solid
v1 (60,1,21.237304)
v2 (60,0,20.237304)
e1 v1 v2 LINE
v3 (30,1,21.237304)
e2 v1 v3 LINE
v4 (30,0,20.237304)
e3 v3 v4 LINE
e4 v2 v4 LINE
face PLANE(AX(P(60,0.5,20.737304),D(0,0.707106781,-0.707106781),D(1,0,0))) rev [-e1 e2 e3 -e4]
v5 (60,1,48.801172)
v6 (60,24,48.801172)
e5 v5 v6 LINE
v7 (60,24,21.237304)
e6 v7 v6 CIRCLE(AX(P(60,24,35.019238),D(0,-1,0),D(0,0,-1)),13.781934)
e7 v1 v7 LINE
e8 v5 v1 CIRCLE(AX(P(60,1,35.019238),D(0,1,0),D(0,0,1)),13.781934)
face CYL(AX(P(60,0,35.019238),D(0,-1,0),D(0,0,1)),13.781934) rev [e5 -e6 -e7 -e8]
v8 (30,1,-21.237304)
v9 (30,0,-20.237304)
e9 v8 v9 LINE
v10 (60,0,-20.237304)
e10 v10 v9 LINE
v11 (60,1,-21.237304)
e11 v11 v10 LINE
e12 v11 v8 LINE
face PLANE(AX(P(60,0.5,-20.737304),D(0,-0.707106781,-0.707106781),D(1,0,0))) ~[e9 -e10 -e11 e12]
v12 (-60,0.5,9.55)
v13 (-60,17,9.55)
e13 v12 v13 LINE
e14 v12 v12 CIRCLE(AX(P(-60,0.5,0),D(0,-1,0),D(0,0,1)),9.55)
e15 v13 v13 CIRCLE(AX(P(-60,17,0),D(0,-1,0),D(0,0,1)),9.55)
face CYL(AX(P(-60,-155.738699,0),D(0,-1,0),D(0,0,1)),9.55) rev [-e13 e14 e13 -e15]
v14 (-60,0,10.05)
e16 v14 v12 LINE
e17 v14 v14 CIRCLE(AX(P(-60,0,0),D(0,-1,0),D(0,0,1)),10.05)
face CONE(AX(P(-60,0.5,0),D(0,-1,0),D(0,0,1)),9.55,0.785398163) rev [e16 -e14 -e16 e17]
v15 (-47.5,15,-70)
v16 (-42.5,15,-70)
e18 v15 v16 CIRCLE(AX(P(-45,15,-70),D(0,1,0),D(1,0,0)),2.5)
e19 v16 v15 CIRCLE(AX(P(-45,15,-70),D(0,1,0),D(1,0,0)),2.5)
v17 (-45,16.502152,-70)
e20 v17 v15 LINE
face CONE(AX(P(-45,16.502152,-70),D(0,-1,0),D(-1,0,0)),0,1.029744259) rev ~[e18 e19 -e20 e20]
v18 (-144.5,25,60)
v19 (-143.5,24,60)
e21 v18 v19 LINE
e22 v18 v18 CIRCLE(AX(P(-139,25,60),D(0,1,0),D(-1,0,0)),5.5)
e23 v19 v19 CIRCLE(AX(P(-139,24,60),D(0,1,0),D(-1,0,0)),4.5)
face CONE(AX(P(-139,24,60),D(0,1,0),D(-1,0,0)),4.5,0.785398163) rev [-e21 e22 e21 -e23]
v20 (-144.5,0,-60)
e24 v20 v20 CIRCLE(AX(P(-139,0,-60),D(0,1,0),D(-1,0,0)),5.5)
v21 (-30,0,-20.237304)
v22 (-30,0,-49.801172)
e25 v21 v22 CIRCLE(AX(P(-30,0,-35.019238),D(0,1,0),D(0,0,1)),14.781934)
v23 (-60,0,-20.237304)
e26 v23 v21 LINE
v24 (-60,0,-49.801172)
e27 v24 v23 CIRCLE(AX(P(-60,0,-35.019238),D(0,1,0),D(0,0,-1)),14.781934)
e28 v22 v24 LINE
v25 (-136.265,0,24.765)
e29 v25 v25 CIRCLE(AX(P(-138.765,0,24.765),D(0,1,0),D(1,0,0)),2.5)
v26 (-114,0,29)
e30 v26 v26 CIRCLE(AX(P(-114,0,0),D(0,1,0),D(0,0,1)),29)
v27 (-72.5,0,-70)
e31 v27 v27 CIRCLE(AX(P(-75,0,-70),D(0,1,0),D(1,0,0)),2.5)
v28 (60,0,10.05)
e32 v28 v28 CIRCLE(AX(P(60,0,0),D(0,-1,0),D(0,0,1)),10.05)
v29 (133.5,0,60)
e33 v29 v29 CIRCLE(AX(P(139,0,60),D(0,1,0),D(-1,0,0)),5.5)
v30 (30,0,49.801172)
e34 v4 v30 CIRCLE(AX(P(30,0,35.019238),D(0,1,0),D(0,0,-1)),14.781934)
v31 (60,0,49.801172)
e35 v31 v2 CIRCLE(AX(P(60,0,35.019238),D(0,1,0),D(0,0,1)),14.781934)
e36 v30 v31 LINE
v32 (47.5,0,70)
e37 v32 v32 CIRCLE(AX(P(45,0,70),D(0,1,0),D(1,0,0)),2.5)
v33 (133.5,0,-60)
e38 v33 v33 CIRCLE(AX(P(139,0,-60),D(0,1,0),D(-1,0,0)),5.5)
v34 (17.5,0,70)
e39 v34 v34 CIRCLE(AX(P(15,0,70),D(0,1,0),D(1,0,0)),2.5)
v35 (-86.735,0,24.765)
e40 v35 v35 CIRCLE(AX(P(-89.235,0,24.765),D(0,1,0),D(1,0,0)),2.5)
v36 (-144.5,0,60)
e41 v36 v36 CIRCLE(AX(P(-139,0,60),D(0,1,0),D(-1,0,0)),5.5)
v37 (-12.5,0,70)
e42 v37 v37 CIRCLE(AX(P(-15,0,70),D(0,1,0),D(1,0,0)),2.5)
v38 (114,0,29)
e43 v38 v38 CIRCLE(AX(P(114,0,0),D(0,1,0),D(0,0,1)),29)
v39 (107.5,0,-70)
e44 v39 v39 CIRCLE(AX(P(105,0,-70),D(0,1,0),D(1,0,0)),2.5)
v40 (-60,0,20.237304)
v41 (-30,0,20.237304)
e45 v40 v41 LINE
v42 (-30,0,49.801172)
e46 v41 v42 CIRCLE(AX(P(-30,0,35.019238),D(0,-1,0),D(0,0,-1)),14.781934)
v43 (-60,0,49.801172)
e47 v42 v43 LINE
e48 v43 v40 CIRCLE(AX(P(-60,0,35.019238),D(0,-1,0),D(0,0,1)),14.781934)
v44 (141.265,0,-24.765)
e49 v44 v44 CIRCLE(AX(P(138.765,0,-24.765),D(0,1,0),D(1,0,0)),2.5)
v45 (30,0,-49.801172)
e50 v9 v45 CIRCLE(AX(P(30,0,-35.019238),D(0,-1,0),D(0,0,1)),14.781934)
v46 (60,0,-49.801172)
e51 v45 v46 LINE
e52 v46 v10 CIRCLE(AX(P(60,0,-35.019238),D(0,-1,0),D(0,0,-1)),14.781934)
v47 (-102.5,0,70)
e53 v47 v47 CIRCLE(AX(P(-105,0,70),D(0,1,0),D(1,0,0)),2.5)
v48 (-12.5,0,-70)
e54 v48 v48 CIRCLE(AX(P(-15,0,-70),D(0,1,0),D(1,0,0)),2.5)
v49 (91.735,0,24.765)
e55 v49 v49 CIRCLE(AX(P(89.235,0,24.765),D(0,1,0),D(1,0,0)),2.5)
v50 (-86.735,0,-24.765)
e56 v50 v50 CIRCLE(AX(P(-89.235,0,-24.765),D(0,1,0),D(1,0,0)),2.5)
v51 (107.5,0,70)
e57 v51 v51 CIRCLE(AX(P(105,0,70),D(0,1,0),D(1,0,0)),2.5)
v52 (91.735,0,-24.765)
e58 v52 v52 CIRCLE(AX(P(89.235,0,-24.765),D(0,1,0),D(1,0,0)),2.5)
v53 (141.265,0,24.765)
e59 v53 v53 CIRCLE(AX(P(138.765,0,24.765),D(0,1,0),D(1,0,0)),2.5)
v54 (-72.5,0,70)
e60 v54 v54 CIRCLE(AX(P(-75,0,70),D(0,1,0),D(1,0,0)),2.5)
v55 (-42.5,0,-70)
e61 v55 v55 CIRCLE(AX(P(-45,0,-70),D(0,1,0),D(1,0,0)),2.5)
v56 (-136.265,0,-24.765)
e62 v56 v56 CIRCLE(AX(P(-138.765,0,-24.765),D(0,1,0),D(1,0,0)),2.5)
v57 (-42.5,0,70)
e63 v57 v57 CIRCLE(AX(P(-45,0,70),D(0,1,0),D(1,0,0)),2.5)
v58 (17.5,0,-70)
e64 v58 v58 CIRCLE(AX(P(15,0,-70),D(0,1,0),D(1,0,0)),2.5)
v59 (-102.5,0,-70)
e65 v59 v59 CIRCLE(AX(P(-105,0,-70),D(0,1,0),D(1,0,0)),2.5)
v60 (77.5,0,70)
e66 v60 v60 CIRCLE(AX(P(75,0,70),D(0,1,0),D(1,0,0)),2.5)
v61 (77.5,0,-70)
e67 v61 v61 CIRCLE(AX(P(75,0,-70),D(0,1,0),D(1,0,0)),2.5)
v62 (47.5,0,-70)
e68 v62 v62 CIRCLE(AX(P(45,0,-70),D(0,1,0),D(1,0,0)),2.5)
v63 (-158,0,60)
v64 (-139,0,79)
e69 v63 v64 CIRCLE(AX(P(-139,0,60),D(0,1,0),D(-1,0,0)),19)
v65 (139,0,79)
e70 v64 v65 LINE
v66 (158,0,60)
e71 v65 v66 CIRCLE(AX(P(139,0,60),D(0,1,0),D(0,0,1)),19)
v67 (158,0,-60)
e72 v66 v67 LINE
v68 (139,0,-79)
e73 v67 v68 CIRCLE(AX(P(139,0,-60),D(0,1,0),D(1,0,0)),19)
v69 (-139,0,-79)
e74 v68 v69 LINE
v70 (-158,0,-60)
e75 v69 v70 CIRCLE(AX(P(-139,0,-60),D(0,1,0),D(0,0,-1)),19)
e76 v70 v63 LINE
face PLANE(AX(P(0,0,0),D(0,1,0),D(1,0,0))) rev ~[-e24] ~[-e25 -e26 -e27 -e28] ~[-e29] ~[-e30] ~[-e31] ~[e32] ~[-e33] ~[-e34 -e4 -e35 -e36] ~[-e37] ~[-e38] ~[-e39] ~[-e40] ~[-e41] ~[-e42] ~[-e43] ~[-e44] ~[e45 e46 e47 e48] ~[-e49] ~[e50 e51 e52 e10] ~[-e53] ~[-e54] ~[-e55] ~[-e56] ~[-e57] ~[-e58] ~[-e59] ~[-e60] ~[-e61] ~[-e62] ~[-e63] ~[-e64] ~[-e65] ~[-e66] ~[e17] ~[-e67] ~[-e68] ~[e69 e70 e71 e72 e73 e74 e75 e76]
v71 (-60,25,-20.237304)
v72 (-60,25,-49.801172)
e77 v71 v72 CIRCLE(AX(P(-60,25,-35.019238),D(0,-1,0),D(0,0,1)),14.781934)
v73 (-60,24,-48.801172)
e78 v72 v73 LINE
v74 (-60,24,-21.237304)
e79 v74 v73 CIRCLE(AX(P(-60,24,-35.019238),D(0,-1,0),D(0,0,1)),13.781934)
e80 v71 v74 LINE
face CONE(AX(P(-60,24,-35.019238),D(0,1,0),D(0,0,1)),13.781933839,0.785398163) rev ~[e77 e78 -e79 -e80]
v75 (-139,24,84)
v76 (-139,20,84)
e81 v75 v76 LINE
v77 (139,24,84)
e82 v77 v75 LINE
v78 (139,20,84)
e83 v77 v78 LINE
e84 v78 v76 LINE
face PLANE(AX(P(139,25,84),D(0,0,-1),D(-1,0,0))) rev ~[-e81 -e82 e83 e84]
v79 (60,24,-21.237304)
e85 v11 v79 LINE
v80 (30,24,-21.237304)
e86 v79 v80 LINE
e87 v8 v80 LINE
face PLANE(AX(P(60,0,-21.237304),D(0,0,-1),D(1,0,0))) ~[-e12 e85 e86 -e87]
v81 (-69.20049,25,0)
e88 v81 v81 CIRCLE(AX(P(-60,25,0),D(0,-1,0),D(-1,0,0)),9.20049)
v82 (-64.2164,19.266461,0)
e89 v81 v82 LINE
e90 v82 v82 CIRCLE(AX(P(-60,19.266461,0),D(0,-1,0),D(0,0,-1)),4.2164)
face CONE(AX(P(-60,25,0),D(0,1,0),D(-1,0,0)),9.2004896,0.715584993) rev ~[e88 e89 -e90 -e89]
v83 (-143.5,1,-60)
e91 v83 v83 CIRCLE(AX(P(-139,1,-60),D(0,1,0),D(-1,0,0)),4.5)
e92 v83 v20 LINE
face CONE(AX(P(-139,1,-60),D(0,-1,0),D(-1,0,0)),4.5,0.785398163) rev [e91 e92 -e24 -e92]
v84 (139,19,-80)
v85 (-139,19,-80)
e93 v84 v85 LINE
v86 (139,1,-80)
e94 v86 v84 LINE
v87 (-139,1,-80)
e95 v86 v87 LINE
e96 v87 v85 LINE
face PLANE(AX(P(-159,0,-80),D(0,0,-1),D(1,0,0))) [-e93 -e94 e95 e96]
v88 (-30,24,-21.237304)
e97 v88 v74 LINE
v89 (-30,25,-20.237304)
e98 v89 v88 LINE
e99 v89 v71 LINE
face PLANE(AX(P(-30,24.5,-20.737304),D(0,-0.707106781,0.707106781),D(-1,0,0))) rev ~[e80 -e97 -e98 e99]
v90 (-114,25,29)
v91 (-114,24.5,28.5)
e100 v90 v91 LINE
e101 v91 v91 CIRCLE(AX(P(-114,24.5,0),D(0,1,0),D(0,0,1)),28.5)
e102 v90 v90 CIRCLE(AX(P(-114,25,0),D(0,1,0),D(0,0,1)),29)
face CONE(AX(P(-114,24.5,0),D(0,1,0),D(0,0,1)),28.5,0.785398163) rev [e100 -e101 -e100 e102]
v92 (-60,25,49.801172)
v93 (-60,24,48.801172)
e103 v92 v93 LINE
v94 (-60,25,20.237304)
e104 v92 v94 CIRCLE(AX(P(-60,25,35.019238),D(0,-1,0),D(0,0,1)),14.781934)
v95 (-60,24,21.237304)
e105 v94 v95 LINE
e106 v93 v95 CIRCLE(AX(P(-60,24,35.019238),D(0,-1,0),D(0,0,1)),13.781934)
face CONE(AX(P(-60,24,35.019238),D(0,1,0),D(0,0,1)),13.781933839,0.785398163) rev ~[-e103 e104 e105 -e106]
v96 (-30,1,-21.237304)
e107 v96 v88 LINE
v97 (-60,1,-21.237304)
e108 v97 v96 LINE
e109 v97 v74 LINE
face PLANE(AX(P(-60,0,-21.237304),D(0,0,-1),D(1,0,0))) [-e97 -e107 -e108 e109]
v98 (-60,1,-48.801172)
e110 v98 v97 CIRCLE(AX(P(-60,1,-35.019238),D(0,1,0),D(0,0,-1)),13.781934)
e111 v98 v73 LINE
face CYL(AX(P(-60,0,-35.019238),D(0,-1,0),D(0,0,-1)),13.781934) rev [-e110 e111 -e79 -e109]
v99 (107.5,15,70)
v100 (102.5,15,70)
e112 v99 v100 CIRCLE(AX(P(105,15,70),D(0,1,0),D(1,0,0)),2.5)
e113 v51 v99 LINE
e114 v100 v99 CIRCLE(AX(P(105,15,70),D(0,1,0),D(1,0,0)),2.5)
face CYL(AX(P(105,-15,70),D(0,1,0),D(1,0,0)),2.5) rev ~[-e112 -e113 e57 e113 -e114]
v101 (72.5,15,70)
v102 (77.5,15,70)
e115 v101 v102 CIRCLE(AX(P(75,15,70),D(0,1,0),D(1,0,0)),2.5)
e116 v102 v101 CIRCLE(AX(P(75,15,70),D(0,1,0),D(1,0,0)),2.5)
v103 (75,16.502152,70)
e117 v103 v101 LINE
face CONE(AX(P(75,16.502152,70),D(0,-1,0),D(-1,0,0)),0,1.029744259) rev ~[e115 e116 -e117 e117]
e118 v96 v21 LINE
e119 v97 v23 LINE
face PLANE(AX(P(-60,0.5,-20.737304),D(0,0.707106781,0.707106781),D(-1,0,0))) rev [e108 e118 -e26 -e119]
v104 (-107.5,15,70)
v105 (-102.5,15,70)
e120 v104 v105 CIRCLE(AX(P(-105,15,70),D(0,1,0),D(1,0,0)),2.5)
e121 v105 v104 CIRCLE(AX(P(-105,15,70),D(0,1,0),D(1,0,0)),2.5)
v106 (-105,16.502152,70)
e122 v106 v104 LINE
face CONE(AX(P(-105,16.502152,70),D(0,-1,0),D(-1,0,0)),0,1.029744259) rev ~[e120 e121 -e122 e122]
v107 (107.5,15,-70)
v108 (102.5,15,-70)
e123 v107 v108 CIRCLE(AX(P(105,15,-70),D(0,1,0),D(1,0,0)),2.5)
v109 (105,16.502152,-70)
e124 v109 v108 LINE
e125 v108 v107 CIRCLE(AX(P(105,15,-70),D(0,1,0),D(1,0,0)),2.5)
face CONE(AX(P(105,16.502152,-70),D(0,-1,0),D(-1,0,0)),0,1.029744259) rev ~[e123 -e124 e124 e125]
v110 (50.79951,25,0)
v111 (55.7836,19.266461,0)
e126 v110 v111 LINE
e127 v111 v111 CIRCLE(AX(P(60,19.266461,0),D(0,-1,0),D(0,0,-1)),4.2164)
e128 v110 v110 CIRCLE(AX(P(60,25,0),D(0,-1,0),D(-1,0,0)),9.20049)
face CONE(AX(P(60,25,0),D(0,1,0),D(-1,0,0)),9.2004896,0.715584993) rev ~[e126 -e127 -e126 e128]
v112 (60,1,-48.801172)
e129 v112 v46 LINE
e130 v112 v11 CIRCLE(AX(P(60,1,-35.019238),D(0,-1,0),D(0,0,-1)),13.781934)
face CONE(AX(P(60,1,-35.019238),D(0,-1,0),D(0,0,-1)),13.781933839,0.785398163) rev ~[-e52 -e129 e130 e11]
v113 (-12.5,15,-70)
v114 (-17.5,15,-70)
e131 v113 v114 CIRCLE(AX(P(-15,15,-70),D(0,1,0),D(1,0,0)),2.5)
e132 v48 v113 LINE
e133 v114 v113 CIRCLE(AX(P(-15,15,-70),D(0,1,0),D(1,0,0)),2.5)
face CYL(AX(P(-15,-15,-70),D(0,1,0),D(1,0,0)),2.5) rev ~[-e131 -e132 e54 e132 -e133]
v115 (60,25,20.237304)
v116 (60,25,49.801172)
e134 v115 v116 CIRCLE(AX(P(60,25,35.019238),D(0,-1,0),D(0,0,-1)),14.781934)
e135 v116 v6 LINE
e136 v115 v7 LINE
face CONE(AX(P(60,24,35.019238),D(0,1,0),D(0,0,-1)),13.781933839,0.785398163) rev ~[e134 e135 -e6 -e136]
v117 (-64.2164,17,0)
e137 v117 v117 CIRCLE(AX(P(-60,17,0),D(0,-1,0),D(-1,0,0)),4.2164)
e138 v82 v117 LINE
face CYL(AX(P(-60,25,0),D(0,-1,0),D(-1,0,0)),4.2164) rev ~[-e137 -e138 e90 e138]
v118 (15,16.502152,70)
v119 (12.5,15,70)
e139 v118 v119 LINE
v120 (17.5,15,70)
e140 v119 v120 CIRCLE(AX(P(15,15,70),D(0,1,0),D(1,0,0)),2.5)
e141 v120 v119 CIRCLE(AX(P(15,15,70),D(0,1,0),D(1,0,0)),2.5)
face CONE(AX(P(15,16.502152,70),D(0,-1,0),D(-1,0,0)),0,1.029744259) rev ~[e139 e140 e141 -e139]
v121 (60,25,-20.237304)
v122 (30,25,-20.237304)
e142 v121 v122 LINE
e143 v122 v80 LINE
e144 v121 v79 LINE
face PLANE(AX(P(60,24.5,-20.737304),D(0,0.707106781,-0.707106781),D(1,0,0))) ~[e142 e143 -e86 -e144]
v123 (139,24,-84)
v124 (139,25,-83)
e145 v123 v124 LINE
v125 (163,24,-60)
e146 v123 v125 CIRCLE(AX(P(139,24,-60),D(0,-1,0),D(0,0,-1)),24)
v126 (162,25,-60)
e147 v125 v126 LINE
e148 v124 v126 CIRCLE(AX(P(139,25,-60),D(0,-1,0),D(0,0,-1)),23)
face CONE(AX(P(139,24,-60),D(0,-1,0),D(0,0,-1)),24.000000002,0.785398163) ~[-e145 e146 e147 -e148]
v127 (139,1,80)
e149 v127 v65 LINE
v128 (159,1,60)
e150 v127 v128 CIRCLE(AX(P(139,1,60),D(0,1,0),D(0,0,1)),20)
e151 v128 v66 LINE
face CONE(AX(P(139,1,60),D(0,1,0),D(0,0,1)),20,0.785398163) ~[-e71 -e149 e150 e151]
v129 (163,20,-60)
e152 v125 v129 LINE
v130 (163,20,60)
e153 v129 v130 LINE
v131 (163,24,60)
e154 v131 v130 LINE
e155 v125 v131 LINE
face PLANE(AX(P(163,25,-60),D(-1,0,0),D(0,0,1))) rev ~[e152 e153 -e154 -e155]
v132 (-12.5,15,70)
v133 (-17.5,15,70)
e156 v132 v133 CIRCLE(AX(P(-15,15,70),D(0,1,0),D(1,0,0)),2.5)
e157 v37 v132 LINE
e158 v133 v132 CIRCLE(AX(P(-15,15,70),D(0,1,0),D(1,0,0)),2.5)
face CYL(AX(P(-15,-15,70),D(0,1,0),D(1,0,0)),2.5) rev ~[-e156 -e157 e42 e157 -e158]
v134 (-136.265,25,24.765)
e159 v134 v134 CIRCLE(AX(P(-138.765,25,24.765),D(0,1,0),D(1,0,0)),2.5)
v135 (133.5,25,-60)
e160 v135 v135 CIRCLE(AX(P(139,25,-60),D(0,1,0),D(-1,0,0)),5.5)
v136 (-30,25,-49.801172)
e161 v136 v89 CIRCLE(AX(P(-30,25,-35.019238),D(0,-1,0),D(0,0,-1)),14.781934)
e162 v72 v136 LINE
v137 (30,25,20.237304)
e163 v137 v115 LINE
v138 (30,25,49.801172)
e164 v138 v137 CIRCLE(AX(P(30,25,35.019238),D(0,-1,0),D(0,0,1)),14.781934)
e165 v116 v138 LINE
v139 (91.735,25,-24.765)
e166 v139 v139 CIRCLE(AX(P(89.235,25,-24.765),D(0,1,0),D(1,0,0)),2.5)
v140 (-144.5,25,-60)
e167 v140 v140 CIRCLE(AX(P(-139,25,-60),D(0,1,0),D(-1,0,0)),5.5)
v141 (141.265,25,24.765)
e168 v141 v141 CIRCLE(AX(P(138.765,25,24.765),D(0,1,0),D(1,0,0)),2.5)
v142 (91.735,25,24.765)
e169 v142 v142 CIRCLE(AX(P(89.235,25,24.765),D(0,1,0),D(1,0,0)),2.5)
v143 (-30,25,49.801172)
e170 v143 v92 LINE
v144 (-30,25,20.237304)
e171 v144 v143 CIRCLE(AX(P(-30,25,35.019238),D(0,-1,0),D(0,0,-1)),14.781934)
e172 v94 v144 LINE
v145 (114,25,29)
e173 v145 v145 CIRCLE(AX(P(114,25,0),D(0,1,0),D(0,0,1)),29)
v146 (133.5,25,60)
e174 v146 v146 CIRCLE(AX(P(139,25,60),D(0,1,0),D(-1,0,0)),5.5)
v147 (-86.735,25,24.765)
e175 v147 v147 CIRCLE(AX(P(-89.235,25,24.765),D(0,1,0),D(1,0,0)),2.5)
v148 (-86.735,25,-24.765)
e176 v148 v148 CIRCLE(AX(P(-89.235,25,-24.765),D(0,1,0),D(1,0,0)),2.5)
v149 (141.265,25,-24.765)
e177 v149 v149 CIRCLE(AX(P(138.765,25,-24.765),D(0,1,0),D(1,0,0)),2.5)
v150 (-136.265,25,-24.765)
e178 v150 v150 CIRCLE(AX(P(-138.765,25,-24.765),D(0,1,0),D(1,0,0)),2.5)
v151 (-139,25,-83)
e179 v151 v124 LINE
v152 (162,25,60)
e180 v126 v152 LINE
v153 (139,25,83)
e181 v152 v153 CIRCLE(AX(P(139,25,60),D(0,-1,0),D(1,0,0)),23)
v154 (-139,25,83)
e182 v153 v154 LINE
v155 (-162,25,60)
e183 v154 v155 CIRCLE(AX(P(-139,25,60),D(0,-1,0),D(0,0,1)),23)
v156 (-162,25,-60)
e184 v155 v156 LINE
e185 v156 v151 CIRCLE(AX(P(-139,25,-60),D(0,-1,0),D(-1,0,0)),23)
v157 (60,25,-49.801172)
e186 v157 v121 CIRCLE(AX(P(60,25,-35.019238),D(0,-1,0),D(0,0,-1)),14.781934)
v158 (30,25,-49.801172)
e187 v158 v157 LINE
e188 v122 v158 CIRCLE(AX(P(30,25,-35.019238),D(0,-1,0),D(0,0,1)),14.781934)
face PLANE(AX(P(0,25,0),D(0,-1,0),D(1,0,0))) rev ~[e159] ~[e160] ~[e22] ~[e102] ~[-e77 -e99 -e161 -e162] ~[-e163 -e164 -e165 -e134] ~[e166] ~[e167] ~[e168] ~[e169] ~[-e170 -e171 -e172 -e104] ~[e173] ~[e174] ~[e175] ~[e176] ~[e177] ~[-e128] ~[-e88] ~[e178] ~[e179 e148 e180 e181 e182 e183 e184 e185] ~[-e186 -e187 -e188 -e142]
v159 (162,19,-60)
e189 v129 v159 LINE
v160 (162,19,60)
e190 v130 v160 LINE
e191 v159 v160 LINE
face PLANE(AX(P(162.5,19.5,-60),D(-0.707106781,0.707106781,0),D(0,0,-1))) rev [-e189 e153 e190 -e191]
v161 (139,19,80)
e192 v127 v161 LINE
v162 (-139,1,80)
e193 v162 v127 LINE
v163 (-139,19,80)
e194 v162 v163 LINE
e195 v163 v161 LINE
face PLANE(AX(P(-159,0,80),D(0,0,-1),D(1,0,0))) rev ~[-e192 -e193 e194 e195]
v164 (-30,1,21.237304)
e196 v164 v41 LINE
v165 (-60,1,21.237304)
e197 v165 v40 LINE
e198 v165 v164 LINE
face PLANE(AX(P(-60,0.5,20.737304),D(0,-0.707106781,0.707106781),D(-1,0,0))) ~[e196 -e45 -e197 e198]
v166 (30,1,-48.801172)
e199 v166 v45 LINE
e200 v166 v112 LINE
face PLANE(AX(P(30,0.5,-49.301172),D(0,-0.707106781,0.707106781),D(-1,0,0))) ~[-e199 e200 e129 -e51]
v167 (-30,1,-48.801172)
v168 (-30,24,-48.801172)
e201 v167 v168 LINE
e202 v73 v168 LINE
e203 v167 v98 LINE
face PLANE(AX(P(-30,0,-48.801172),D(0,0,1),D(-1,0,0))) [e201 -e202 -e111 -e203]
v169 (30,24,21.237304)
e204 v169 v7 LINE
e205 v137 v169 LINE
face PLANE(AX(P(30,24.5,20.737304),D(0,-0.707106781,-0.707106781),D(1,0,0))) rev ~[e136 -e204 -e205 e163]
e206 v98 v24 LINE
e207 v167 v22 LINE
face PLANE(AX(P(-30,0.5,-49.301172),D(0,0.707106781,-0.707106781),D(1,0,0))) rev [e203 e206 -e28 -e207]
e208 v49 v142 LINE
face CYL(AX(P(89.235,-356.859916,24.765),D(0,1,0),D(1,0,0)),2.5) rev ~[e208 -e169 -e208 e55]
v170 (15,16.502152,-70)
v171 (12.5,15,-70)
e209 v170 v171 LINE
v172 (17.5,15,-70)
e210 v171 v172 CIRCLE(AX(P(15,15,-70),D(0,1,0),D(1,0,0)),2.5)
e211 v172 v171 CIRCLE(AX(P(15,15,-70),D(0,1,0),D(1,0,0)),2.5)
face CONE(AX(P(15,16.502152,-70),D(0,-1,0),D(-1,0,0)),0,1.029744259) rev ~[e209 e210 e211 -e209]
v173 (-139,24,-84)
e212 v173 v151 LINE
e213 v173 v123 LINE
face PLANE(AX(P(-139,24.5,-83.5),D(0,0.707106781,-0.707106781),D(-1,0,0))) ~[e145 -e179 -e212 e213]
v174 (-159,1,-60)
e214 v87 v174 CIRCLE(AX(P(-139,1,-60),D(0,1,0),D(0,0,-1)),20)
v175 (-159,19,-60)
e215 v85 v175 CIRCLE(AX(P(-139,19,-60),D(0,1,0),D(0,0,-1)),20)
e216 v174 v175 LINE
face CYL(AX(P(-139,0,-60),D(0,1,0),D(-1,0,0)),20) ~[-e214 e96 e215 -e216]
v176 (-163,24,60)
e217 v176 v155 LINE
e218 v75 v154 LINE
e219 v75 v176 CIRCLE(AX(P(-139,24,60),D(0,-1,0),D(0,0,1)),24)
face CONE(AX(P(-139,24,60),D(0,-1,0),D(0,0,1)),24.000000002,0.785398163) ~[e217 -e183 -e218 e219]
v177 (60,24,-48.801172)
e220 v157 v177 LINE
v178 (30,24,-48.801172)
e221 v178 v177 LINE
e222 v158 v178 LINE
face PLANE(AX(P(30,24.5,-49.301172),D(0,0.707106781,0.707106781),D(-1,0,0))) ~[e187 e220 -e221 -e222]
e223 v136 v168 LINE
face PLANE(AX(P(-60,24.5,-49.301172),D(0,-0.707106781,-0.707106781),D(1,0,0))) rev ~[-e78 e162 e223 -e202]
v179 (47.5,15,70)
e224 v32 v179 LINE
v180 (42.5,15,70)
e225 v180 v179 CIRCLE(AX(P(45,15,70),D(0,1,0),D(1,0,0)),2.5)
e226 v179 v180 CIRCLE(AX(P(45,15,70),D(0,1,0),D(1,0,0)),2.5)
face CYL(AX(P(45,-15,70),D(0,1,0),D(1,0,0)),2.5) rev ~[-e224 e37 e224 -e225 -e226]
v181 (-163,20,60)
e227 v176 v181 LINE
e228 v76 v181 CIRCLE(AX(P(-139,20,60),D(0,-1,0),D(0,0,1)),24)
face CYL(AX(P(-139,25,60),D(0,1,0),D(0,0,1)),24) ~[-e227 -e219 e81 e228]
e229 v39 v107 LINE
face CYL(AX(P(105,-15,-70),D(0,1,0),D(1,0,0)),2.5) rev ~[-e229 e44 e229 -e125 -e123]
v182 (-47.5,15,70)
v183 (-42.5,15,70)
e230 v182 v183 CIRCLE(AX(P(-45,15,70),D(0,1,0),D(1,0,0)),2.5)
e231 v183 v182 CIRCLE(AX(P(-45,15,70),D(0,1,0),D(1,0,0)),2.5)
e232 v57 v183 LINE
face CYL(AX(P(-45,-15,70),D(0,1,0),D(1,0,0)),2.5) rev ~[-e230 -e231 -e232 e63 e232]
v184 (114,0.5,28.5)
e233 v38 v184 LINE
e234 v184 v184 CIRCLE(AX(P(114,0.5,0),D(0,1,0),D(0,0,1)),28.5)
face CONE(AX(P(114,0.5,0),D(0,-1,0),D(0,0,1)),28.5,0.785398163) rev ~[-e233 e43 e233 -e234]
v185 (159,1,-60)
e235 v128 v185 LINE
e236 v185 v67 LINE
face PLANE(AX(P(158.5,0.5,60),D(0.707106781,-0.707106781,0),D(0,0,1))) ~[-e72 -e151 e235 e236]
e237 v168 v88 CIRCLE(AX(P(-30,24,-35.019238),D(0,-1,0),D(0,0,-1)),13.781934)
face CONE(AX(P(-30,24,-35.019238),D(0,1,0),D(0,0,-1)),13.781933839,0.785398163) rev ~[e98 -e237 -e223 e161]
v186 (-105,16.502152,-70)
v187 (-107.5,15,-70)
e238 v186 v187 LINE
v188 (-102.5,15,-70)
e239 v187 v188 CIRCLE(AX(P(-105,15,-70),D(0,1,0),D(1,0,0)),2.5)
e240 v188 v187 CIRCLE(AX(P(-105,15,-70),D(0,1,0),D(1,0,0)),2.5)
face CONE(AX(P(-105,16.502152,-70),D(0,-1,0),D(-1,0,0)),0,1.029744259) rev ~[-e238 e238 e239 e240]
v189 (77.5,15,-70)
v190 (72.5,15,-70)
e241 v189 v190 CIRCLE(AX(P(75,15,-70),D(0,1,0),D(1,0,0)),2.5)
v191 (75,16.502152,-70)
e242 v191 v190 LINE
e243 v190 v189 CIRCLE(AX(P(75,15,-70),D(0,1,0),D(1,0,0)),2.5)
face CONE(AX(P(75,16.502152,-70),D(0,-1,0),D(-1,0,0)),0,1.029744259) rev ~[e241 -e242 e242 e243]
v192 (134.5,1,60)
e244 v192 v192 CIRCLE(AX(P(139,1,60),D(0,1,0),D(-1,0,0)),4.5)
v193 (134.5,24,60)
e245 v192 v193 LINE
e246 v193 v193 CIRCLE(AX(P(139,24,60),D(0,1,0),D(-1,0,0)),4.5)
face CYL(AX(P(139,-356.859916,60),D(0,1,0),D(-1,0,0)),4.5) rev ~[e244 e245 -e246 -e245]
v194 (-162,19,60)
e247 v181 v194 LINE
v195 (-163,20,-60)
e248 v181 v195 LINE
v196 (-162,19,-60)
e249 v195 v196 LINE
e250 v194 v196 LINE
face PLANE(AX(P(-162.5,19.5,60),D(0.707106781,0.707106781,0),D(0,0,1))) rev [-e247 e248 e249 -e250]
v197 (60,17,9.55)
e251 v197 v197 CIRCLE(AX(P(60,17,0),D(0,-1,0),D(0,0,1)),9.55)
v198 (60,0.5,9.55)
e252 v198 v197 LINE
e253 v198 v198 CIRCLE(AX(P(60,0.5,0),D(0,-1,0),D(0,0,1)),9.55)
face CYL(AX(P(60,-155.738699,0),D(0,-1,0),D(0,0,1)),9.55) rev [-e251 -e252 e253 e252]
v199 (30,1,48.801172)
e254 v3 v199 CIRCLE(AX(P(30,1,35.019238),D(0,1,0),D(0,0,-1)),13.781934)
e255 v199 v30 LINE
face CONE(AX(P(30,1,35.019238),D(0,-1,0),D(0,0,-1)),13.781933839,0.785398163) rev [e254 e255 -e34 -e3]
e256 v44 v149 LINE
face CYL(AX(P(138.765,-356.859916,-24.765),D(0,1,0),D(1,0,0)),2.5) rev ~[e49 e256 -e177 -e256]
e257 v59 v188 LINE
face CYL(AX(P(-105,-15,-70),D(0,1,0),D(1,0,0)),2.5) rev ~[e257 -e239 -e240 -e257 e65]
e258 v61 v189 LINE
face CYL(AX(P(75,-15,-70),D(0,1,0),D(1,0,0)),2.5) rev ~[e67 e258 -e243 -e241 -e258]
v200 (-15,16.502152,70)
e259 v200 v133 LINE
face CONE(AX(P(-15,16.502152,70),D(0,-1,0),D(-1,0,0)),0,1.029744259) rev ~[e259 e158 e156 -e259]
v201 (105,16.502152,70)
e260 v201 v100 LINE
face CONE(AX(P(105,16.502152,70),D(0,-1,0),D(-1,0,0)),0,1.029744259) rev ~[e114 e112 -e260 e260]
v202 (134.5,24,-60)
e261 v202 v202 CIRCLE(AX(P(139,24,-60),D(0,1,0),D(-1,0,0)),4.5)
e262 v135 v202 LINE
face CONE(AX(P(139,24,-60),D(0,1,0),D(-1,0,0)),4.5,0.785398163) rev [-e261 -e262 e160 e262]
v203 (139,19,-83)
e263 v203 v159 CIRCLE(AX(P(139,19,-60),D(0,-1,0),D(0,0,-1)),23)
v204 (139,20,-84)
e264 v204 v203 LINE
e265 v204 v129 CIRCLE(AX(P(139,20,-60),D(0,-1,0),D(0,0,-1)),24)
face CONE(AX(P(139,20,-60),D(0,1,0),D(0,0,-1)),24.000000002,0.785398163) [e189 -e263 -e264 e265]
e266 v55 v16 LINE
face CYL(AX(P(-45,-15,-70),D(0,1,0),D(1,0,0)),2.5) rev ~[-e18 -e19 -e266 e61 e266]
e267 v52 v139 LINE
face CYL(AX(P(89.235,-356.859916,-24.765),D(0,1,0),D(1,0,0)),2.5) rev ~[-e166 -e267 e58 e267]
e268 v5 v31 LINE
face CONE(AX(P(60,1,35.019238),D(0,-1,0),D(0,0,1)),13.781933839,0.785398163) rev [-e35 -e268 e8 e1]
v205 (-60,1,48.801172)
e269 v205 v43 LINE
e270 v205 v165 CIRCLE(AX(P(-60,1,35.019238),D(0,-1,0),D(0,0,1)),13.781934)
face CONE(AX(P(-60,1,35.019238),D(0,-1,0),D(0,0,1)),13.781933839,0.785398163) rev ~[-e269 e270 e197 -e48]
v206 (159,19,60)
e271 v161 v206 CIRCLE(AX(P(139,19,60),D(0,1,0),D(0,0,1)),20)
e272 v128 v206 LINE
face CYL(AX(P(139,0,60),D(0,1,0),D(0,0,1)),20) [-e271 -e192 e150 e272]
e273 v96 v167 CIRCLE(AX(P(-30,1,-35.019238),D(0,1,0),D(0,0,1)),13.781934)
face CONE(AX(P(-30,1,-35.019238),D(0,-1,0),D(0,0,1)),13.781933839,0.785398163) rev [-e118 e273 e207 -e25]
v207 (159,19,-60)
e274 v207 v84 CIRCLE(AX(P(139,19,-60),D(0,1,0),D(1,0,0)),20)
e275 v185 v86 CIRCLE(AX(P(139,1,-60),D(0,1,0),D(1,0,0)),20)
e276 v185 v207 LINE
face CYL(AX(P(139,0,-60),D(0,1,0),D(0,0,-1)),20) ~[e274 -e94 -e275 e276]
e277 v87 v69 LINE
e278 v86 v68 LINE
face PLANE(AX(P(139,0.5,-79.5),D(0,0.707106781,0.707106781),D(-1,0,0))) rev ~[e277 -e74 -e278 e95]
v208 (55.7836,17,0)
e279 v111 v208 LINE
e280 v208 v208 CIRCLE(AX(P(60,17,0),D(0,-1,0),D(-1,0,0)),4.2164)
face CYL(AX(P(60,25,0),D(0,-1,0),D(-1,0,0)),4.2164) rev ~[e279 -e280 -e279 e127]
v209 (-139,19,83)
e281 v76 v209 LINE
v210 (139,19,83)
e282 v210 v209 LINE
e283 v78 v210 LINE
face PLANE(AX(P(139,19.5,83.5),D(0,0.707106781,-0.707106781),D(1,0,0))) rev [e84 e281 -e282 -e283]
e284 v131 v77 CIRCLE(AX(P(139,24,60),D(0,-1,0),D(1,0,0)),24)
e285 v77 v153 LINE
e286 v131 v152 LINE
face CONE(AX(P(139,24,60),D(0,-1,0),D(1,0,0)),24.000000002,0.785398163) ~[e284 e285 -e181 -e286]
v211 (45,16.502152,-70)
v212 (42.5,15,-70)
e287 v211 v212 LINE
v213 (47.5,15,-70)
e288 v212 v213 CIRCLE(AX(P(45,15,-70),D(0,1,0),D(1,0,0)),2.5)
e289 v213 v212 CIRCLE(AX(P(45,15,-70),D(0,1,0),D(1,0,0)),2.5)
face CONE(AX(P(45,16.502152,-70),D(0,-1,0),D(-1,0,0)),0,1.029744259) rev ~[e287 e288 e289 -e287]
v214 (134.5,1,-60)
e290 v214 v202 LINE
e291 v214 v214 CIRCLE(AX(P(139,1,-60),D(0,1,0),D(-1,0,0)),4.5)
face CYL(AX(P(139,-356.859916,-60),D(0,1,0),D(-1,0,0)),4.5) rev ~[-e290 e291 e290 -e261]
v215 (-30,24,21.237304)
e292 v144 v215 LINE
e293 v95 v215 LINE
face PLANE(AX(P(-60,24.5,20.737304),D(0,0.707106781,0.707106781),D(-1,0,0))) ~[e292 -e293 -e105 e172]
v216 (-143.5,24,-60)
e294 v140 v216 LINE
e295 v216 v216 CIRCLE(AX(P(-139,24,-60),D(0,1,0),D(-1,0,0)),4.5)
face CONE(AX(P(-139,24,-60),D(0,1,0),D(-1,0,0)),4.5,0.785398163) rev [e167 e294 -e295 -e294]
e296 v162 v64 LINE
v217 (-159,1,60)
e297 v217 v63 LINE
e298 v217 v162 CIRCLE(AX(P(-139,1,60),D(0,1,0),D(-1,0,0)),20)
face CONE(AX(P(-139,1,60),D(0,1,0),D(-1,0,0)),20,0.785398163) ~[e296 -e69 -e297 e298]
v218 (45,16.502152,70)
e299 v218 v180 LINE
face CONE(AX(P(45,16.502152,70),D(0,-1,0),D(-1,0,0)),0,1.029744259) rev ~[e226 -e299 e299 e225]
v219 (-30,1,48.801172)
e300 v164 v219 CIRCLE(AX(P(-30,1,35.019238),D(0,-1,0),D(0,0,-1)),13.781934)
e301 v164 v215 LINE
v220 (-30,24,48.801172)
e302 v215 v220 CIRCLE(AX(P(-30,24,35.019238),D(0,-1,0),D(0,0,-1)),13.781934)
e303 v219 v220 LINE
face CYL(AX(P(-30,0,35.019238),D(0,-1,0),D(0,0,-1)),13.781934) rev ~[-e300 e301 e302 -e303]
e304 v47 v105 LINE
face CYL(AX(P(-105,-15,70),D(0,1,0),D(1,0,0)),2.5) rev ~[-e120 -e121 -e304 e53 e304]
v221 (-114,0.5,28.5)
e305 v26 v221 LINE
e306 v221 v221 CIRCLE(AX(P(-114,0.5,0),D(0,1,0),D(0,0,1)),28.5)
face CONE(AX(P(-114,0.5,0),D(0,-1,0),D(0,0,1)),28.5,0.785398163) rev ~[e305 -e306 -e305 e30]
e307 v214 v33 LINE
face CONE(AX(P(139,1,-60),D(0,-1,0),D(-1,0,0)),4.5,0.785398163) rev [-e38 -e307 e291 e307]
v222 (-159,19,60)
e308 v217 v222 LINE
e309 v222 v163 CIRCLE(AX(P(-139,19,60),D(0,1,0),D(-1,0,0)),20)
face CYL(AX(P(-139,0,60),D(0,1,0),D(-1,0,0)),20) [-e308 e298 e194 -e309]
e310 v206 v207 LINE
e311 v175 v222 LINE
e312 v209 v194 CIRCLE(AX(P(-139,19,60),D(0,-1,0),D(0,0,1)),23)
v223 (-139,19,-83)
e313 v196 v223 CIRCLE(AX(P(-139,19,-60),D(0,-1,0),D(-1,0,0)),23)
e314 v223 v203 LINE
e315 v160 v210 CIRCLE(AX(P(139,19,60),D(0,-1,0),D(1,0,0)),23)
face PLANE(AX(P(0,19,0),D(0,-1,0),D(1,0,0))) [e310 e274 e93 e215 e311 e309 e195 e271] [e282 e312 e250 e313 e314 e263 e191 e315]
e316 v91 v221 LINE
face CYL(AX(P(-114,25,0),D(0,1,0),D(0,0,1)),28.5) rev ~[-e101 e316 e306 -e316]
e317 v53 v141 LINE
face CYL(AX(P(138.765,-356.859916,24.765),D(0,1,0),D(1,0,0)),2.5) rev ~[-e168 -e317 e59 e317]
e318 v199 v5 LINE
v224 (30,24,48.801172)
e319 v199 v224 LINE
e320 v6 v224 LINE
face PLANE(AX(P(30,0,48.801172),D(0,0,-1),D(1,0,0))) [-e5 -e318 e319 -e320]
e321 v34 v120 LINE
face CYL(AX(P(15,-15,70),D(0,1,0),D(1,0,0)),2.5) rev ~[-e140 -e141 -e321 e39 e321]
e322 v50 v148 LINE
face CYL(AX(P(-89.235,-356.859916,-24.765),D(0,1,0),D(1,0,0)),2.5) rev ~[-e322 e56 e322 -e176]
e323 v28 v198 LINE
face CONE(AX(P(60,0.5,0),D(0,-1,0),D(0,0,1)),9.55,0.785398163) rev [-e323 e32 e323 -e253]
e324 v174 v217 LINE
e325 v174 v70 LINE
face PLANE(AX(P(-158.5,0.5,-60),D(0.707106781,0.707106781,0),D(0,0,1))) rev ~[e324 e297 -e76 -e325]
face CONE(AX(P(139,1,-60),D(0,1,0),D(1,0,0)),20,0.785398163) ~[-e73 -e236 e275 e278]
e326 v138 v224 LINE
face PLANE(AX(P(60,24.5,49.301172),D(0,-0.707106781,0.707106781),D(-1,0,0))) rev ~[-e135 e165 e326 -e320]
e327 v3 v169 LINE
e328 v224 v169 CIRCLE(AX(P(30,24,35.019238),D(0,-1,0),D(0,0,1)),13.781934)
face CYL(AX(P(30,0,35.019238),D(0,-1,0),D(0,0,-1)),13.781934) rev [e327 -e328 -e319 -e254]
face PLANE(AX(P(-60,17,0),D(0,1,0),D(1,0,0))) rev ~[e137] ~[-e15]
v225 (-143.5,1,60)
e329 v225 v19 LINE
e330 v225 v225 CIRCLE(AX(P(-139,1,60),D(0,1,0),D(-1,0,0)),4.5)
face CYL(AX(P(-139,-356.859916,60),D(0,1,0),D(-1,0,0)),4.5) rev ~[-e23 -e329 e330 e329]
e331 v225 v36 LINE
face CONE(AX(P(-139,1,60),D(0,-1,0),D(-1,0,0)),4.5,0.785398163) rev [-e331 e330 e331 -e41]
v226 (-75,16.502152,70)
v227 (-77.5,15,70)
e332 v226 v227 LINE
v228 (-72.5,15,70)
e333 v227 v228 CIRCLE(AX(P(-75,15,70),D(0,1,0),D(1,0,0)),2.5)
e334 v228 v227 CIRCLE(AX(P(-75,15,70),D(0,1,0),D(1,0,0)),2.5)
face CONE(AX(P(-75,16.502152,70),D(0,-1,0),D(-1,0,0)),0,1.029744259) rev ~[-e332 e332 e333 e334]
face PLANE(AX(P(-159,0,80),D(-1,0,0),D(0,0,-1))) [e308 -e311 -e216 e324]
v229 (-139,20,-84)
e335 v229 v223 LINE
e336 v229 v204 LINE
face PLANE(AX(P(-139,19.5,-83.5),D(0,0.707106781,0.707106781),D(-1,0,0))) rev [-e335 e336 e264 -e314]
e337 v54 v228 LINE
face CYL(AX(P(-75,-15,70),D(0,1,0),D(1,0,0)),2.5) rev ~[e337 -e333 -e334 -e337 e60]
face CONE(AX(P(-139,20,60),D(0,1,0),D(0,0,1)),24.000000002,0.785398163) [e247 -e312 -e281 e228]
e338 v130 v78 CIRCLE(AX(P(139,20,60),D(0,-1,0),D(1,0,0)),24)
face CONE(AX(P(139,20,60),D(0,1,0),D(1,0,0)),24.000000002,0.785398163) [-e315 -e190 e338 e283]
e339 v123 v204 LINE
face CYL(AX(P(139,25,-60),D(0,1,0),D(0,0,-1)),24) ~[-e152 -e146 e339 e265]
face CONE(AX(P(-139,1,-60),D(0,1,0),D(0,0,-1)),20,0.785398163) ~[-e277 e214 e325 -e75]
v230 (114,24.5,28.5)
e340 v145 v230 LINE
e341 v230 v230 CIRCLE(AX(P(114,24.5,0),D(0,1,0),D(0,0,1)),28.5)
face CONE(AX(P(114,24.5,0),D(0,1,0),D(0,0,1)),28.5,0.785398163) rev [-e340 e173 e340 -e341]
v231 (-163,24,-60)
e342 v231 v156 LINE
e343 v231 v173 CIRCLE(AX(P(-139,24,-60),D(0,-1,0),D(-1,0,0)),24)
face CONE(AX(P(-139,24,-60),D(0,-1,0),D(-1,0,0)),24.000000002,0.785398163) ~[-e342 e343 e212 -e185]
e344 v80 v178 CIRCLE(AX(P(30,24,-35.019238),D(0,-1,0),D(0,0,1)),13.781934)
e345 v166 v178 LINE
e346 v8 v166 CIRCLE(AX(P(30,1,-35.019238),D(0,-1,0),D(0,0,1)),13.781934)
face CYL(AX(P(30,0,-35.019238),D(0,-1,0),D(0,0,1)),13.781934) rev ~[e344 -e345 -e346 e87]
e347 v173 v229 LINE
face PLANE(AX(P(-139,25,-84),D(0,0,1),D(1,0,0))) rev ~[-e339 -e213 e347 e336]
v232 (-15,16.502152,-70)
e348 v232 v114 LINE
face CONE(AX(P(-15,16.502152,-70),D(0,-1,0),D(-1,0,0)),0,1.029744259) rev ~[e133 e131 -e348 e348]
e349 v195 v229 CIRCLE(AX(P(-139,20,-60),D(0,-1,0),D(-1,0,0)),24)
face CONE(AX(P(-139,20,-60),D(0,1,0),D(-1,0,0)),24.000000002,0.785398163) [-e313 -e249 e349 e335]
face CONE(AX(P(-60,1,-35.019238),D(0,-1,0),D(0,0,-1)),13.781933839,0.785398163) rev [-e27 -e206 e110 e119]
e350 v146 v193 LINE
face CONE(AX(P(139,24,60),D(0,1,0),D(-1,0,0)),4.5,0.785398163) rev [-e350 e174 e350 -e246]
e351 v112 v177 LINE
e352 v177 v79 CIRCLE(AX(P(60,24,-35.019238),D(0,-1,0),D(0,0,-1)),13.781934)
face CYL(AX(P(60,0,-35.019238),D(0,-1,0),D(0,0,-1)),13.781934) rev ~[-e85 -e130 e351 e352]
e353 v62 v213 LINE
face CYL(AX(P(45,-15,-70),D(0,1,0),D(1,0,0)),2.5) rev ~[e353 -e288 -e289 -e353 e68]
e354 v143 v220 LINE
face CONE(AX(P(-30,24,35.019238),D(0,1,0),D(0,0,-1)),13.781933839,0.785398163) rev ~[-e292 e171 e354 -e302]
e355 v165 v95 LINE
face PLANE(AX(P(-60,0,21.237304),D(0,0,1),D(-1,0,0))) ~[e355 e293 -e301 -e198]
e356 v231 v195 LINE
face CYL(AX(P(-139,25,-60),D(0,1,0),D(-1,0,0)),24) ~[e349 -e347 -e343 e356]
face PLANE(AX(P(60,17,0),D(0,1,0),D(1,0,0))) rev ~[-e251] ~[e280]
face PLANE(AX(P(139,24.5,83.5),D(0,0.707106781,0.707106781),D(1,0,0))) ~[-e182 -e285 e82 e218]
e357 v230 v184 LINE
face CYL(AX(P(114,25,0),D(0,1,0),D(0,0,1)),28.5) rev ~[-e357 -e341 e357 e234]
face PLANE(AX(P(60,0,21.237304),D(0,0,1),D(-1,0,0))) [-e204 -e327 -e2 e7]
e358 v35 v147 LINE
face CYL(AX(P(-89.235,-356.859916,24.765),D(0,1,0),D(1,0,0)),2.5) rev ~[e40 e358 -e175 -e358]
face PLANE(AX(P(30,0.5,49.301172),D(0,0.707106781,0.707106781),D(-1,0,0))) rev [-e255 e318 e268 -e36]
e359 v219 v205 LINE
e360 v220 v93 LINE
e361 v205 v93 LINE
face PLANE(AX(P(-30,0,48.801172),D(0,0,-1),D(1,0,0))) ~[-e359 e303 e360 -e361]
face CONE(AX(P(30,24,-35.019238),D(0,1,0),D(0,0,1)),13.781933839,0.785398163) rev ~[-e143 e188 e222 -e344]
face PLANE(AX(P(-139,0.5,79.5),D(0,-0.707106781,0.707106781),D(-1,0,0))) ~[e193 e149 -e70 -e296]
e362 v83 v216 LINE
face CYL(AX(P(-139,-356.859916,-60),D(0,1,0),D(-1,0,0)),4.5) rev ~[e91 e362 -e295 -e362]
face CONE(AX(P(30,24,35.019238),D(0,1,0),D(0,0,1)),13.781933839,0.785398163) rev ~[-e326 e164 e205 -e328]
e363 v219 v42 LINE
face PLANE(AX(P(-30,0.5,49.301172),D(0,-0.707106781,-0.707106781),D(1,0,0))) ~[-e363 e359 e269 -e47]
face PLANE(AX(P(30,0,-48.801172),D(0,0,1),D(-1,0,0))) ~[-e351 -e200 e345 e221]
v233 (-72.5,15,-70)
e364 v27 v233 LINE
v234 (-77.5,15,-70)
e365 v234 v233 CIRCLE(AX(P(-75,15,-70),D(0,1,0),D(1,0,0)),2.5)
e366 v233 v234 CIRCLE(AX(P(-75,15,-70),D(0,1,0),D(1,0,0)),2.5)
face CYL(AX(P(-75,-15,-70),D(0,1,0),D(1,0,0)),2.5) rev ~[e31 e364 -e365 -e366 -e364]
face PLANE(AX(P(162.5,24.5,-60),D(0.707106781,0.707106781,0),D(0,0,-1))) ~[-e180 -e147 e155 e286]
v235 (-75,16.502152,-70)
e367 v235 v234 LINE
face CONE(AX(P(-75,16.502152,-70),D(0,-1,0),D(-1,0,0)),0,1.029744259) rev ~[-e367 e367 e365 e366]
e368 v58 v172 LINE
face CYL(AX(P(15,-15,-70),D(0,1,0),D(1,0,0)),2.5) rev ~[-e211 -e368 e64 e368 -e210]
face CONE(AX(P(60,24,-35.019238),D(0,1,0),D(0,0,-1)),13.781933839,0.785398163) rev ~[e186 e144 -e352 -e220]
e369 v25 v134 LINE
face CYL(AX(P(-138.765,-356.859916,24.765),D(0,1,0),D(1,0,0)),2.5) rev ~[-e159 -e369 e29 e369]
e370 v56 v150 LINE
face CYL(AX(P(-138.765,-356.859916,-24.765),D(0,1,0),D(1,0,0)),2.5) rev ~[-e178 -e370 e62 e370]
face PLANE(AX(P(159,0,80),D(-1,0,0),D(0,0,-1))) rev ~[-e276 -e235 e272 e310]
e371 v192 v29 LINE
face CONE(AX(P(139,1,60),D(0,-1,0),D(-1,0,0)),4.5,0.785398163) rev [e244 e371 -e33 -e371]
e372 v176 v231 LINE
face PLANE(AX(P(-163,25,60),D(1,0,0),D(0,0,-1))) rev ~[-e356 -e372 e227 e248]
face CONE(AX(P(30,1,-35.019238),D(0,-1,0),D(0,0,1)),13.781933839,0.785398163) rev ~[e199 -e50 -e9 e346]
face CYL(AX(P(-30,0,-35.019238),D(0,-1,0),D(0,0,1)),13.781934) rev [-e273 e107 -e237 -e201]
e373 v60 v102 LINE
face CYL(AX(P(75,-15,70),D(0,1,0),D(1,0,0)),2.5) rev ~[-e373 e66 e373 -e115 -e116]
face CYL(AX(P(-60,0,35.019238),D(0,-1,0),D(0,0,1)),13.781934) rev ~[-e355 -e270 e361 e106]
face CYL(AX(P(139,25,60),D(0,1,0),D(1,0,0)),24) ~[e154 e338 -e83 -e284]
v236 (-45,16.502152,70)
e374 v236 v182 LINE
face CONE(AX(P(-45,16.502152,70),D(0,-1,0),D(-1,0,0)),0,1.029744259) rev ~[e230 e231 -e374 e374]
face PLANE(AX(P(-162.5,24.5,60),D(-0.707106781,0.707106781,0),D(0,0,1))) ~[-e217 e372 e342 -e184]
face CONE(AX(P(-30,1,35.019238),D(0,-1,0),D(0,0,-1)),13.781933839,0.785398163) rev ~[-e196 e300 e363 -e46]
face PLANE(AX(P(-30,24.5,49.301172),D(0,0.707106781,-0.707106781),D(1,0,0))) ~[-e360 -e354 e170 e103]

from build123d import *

# Parameters (mm, degrees)
SKETCH1_W                                            = 318
SKETCH1_H                                            = 160
BOSS_EXTRUDE1_DEPTH                                  = 25
SKETCH2_R                                            = 28.5
CUT_EXTRUDE1_DEPTH                                   = 180.738699228
CUT_EXTRUDE2_DEPTH                                   = 180.738699228
CUT_EXTRUDE2_DEPTH_BACK                              = 180.738699228
SKETCH4_R                                            = 9.55
CHAMFER1_SIZE                                        = 0.5
FILLET1_R                                            = 20
M8_CLEARANCE_HOLE1_D                                 = 9
M6X1_0_TAPPED_HOLE1_D                                = 5
SKETCH13_R                                           = 13.411040831
SKETCH13_R_2                                         = 14.724493856
BOSS_EXTRUDE3_DEPTH                                  = 8
CSK_FOR_5_16_FLAT_HEAD_SOCKET_CAP_SCREW1_D           = 8.4328
CSK_FOR_5_16_FLAT_HEAD_SOCKET_CAP_SCREW1_CSINK_D     = 18.4009792
CSK_FOR_5_16_FLAT_HEAD_SOCKET_CAP_SCREW1_CSINK_ANGLE = 82
BOSS_EXTRUDE4_DEPTH                                  = 6
CUT_EXTRUDE3_DEPTH                                   = 186.067555233
M6X1_0_TAPPED_HOLE2_D                                = 5
M6X1_0_TAPPED_HOLE2_DEPTH                            = 15
M6X1_0_TAPPED_HOLE2_TIP                              = 1.502151548
MIRROR2_COPY_1_DEPTH                                 = 186.067555233
CHAMFER4_SIZE                                        = 1


with BuildPart() as part:
    # Sketch1 → Boss-Extrude1 (new body)
    with BuildSketch(Plane(origin=(0, 0, 0), x_dir=(1, 0, 0), z_dir=(0, 1, 0))):
        Rectangle(SKETCH1_W, SKETCH1_H)
    extrude(amount=BOSS_EXTRUDE1_DEPTH)

    # Sketch2 → Cut-Extrude1 (cut, through all)
    with BuildSketch(Plane(origin=(0, 25, 0), x_dir=(1, 0, 0), z_dir=(0, 1, 0))):
        with Locations(Location((-114, 0, 0), (0, 0, 270))):
            Circle(SKETCH2_R)
        with Locations(Location((114, 0, 0), (0, 0, 270))):
            Circle(SKETCH2_R)
    extrude(amount=-CUT_EXTRUDE1_DEPTH, mode=Mode.SUBTRACT)

    # Sketch4 → Cut-Extrude2 (cut, two sides: drawn at the far end of the back side and taken through both)
    with BuildSketch(Plane(origin=(0, 25, 0), x_dir=(1, 0, 0), z_dir=(0, 1, 0)).offset(-CUT_EXTRUDE2_DEPTH_BACK)):
        with Locations(Location((-60, 0, 0), (0, 0, 270))):
            Circle(SKETCH4_R)
        with Locations(Location((60, 0, 0), (0, 0, 270))):
            Circle(SKETCH4_R)
    extrude(amount=CUT_EXTRUDE2_DEPTH + CUT_EXTRUDE2_DEPTH_BACK, mode=Mode.SUBTRACT)

    # Chamfer1
    chamfer1_edges = [part.edges().sort_by_distance(p)[0] for p in [
        (-114, 0, -28.5),
        (-114, 25, -28.5),
        (114, 0, -28.5),
        (114, 25, -28.5),
        (-60, 0, -9.55),
        (-60, 25, -9.55),
        (60, 0, -9.55),
        (60, 25, -9.55),
    ]]
    chamfer(chamfer1_edges, length=CHAMFER1_SIZE)

    # Fillet1
    fillet1_edges = [part.edges().sort_by_distance(p)[0] for p in [
        (159, 12.5, 80),
        (-159, 12.5, 80),
        (-159, 12.5, -80),
        (159, 12.5, -80),
    ]]
    fillet(fillet1_edges, radius=FILLET1_R)

    # M8 Clearance Hole1 (through all)
    with Locations(Plane.XZ):
        with Locations((-139, -60), (-139, 60), (139, -60), (139, 60)):
            Hole(M8_CLEARANCE_HOLE1_D / 2)

    # M6x1.0 Tapped Hole1 (through all)
    with Locations(Plane(origin=(0, 0, 0), x_dir=(-1, 0, 0), z_dir=(0, -1, 0))):
        with Locations((138.765, -24.765), (89.235, -24.765), (89.235, 24.765), (138.765, 24.765), (-89.235, -24.765), (-138.765, -24.765), (-89.235, 24.765), (-138.765, 24.765)):
            Hole(M6X1_0_TAPPED_HOLE1_D / 2)

    # Sketch13 → Boss-Extrude3 (add)
    with BuildSketch(Plane(origin=(0, 25, 0), x_dir=(1, 0, 0), z_dir=(0, 1, 0))):
        with Locations((60, 0)):
            Circle(SKETCH13_R)
        with Locations((-60, 0)):
            Circle(SKETCH13_R_2)
    extrude(amount=-BOSS_EXTRUDE3_DEPTH)

    # CSK for 5/16 Flat Head Socket Cap Screw1 (through all)
    with Locations(Plane(origin=(0, 25, 0), x_dir=(1, 0, 0), z_dir=(0, 1, 0))):
        with Locations((60, 0), (-60, 0)):
            CounterSinkHole(CSK_FOR_5_16_FLAT_HEAD_SOCKET_CAP_SCREW1_D / 2, CSK_FOR_5_16_FLAT_HEAD_SOCKET_CAP_SCREW1_CSINK_D / 2, counter_sink_angle=CSK_FOR_5_16_FLAT_HEAD_SOCKET_CAP_SCREW1_CSINK_ANGLE)

    # Sketch16 → Boss-Extrude4 (add)
    with BuildSketch(Plane.XZ.offset(-25)):
        with BuildLine():
            Line((163, -60), (163, 60))
            ThreePointArc((163, 60), (155.970562748, 76.970562748), (139, 84))
            Line((139, 84), (-139, 84))
            ThreePointArc((-139, 84), (-155.970562748, 76.970562748), (-163, 60))
            Line((-163, 60), (-163, -60))
            ThreePointArc((-163, -60), (-155.970562748, -76.970562748), (-139, -84))
            Line((-139, -84), (139, -84))
            ThreePointArc((139, -84), (155.970562748, -76.970562748), (163, -60))
        make_face()
        with BuildLine():
            Line((159, 60), (159, -60))
            ThreePointArc((159, -60), (153.142135624, -74.142135624), (139, -80))
            Line((139, -80), (-139, -80))
            ThreePointArc((-139, -80), (-153.142135624, -74.142135624), (-159, -60))
            Line((-159, -60), (-159, 60))
            ThreePointArc((-159, 60), (-153.142135624, 74.142135624), (-139, 80))
            Line((-139, 80), (139, 80))
            ThreePointArc((139, 80), (153.142135624, 74.142135624), (159, 60))
        make_face(mode=Mode.SUBTRACT)
    extrude(amount=BOSS_EXTRUDE4_DEPTH)

    # Sketch17 → Cut-Extrude3 (cut, through all)
    with BuildSketch(Plane.XZ):
        with BuildLine():
            Line((-60, -21.237304048), (-30, -21.237304048))
            ThreePointArc((-30, -21.237304048), (-16.218066161, -35.019237886), (-30, -48.801171725))
            Line((-30, -48.801171725), (-60, -48.801171725))
            ThreePointArc((-60, -48.801171725), (-73.781933839, -35.019237886), (-60, -21.237304048))
        make_face()
    cut_extrude3 = extrude(amount=-CUT_EXTRUDE3_DEPTH, mode=Mode.SUBTRACT)

    # M6x1.0 Tapped Hole2
    with Locations(Plane(origin=(0, 0, 0), x_dir=(-1, 0, 0), z_dir=(0, -1, 0))):
        with Locations((-75, 70), (-45, 70), (-105, 70), (-15, 70), (15, 70), (45, 70), (75, 70), (105, 70), (-105, -70), (-75, -70), (-45, -70), (-15, -70), (15, -70), (45, -70), (75, -70), (105, -70)):
            Hole(M6X1_0_TAPPED_HOLE2_D / 2, depth=M6X1_0_TAPPED_HOLE2_DEPTH)
            with Locations((0, 0, -(M6X1_0_TAPPED_HOLE2_DEPTH + M6X1_0_TAPPED_HOLE2_TIP / 2))):  # 118° drill point
                Cone(0, M6X1_0_TAPPED_HOLE2_D / 2, M6X1_0_TAPPED_HOLE2_TIP, mode=Mode.SUBTRACT)

    # Mirror1: Cut-Extrude3 across plane
    add(cut_extrude3.mirror(Plane(origin=(0, 0, 0), x_dir=(0, 0, 1), z_dir=(1, 0, 0))), mode=Mode.SUBTRACT)

    # Mirror2: Cut-Extrude3 across plane
    add(cut_extrude3.mirror(Plane.XY), mode=Mode.SUBTRACT)

    # Mirror2 copy 1 sketch → Mirror2 copy 1 (cut, through all)
    with BuildSketch(Plane(origin=(0, 0, 0), x_dir=(-1, 0, 0), z_dir=(0, -1, 0))):
        with BuildLine():
            Line((-60, -21.237304048), (-30, -21.237304048))
            ThreePointArc((-30, -21.237304048), (-16.218066161, -35.019237886), (-30, -48.801171725))
            Line((-30, -48.801171725), (-60, -48.801171725))
            ThreePointArc((-60, -48.801171725), (-73.781933839, -35.019237886), (-60, -21.237304048))
        make_face()
    extrude(amount=-MIRROR2_COPY_1_DEPTH, mode=Mode.SUBTRACT)

    # Chamfer4
    chamfer4_edges = [part.edges().sort_by_distance(p)[0] for p in [
        (-134.5, 0, 60),
        (-134.5, 25, 60),
        (-134.5, 0, -60),
        (-134.5, 25, -60),
        (155.970562748, 19, -76.970562748),
        (163, 19, 0),
        (155.970562748, 19, 76.970562748),
        (0, 19, 84),
        (-155.970562748, 19, 76.970562748),
        (-163, 19, 0),
        (-155.970562748, 19, -76.970562748),
        (0, 19, -84),
        (155.970562748, 25, -76.970562748),
        (163, 25, 0),
        (155.970562748, 25, 76.970562748),
        (0, 25, 84),
        (-155.970562748, 25, 76.970562748),
        (-163, 25, 0),
        (-155.970562748, 25, -76.970562748),
        (0, 25, -84),
        (-73.781933839, 25, -35.019237886),
        (-45, 25, -21.237304048),
        (-16.218066161, 25, -35.019237886),
        (-45, 25, -48.801171725),
        (-73.781933839, 0, -35.019237886),
        (-45, 0, -48.801171725),
        (-16.218066161, 0, -35.019237886),
        (-45, 0, -21.237304048),
        (73.781933839, 0, -35.019237886),
        (45, 0, -48.801171725),
        (16.218066161, 0, -35.019237886),
        (45, 0, -21.237304048),
        (73.781933839, 25, -35.019237886),
        (45, 25, -48.801171725),
        (16.218066161, 25, -35.019237886),
        (45, 25, -21.237304048),
        (73.781933839, 25, 35.019237886),
        (45, 25, 21.237304048),
        (16.218066161, 25, 35.019237886),
        (45, 25, 48.801171725),
        (73.781933839, 0, 35.019237886),
        (45, 0, 48.801171725),
        (16.218066161, 0, 35.019237886),
        (45, 0, 21.237304048),
        (-73.781933839, 0, 35.019237886),
        (-45, 0, 48.801171725),
        (-16.218066161, 0, 35.019237886),
        (-45, 0, 21.237304048),
        (-73.781933839, 25, 35.019237886),
        (-45, 25, 48.801171725),
        (-16.218066161, 25, 35.019237886),
        (-45, 25, 21.237304048),
        (159, 0, 0),
        (0, 0, 80),
        (-159, 0, 0),
        (0, 0, -80),
        (-153.142135624, 0, 74.142135624),
        (-153.142135624, 0, -74.142135624),
        (153.142135624, 0, -74.142135624),
        (153.142135624, 0, 74.142135624),
        (143.5, 0, 60),
        (143.5, 25, 60),
        (143.5, 0, -60),
        (143.5, 25, -60),
    ]]
    chamfer(chamfer4_edges, length=CHAMFER4_SIZE)


solid = part.part
